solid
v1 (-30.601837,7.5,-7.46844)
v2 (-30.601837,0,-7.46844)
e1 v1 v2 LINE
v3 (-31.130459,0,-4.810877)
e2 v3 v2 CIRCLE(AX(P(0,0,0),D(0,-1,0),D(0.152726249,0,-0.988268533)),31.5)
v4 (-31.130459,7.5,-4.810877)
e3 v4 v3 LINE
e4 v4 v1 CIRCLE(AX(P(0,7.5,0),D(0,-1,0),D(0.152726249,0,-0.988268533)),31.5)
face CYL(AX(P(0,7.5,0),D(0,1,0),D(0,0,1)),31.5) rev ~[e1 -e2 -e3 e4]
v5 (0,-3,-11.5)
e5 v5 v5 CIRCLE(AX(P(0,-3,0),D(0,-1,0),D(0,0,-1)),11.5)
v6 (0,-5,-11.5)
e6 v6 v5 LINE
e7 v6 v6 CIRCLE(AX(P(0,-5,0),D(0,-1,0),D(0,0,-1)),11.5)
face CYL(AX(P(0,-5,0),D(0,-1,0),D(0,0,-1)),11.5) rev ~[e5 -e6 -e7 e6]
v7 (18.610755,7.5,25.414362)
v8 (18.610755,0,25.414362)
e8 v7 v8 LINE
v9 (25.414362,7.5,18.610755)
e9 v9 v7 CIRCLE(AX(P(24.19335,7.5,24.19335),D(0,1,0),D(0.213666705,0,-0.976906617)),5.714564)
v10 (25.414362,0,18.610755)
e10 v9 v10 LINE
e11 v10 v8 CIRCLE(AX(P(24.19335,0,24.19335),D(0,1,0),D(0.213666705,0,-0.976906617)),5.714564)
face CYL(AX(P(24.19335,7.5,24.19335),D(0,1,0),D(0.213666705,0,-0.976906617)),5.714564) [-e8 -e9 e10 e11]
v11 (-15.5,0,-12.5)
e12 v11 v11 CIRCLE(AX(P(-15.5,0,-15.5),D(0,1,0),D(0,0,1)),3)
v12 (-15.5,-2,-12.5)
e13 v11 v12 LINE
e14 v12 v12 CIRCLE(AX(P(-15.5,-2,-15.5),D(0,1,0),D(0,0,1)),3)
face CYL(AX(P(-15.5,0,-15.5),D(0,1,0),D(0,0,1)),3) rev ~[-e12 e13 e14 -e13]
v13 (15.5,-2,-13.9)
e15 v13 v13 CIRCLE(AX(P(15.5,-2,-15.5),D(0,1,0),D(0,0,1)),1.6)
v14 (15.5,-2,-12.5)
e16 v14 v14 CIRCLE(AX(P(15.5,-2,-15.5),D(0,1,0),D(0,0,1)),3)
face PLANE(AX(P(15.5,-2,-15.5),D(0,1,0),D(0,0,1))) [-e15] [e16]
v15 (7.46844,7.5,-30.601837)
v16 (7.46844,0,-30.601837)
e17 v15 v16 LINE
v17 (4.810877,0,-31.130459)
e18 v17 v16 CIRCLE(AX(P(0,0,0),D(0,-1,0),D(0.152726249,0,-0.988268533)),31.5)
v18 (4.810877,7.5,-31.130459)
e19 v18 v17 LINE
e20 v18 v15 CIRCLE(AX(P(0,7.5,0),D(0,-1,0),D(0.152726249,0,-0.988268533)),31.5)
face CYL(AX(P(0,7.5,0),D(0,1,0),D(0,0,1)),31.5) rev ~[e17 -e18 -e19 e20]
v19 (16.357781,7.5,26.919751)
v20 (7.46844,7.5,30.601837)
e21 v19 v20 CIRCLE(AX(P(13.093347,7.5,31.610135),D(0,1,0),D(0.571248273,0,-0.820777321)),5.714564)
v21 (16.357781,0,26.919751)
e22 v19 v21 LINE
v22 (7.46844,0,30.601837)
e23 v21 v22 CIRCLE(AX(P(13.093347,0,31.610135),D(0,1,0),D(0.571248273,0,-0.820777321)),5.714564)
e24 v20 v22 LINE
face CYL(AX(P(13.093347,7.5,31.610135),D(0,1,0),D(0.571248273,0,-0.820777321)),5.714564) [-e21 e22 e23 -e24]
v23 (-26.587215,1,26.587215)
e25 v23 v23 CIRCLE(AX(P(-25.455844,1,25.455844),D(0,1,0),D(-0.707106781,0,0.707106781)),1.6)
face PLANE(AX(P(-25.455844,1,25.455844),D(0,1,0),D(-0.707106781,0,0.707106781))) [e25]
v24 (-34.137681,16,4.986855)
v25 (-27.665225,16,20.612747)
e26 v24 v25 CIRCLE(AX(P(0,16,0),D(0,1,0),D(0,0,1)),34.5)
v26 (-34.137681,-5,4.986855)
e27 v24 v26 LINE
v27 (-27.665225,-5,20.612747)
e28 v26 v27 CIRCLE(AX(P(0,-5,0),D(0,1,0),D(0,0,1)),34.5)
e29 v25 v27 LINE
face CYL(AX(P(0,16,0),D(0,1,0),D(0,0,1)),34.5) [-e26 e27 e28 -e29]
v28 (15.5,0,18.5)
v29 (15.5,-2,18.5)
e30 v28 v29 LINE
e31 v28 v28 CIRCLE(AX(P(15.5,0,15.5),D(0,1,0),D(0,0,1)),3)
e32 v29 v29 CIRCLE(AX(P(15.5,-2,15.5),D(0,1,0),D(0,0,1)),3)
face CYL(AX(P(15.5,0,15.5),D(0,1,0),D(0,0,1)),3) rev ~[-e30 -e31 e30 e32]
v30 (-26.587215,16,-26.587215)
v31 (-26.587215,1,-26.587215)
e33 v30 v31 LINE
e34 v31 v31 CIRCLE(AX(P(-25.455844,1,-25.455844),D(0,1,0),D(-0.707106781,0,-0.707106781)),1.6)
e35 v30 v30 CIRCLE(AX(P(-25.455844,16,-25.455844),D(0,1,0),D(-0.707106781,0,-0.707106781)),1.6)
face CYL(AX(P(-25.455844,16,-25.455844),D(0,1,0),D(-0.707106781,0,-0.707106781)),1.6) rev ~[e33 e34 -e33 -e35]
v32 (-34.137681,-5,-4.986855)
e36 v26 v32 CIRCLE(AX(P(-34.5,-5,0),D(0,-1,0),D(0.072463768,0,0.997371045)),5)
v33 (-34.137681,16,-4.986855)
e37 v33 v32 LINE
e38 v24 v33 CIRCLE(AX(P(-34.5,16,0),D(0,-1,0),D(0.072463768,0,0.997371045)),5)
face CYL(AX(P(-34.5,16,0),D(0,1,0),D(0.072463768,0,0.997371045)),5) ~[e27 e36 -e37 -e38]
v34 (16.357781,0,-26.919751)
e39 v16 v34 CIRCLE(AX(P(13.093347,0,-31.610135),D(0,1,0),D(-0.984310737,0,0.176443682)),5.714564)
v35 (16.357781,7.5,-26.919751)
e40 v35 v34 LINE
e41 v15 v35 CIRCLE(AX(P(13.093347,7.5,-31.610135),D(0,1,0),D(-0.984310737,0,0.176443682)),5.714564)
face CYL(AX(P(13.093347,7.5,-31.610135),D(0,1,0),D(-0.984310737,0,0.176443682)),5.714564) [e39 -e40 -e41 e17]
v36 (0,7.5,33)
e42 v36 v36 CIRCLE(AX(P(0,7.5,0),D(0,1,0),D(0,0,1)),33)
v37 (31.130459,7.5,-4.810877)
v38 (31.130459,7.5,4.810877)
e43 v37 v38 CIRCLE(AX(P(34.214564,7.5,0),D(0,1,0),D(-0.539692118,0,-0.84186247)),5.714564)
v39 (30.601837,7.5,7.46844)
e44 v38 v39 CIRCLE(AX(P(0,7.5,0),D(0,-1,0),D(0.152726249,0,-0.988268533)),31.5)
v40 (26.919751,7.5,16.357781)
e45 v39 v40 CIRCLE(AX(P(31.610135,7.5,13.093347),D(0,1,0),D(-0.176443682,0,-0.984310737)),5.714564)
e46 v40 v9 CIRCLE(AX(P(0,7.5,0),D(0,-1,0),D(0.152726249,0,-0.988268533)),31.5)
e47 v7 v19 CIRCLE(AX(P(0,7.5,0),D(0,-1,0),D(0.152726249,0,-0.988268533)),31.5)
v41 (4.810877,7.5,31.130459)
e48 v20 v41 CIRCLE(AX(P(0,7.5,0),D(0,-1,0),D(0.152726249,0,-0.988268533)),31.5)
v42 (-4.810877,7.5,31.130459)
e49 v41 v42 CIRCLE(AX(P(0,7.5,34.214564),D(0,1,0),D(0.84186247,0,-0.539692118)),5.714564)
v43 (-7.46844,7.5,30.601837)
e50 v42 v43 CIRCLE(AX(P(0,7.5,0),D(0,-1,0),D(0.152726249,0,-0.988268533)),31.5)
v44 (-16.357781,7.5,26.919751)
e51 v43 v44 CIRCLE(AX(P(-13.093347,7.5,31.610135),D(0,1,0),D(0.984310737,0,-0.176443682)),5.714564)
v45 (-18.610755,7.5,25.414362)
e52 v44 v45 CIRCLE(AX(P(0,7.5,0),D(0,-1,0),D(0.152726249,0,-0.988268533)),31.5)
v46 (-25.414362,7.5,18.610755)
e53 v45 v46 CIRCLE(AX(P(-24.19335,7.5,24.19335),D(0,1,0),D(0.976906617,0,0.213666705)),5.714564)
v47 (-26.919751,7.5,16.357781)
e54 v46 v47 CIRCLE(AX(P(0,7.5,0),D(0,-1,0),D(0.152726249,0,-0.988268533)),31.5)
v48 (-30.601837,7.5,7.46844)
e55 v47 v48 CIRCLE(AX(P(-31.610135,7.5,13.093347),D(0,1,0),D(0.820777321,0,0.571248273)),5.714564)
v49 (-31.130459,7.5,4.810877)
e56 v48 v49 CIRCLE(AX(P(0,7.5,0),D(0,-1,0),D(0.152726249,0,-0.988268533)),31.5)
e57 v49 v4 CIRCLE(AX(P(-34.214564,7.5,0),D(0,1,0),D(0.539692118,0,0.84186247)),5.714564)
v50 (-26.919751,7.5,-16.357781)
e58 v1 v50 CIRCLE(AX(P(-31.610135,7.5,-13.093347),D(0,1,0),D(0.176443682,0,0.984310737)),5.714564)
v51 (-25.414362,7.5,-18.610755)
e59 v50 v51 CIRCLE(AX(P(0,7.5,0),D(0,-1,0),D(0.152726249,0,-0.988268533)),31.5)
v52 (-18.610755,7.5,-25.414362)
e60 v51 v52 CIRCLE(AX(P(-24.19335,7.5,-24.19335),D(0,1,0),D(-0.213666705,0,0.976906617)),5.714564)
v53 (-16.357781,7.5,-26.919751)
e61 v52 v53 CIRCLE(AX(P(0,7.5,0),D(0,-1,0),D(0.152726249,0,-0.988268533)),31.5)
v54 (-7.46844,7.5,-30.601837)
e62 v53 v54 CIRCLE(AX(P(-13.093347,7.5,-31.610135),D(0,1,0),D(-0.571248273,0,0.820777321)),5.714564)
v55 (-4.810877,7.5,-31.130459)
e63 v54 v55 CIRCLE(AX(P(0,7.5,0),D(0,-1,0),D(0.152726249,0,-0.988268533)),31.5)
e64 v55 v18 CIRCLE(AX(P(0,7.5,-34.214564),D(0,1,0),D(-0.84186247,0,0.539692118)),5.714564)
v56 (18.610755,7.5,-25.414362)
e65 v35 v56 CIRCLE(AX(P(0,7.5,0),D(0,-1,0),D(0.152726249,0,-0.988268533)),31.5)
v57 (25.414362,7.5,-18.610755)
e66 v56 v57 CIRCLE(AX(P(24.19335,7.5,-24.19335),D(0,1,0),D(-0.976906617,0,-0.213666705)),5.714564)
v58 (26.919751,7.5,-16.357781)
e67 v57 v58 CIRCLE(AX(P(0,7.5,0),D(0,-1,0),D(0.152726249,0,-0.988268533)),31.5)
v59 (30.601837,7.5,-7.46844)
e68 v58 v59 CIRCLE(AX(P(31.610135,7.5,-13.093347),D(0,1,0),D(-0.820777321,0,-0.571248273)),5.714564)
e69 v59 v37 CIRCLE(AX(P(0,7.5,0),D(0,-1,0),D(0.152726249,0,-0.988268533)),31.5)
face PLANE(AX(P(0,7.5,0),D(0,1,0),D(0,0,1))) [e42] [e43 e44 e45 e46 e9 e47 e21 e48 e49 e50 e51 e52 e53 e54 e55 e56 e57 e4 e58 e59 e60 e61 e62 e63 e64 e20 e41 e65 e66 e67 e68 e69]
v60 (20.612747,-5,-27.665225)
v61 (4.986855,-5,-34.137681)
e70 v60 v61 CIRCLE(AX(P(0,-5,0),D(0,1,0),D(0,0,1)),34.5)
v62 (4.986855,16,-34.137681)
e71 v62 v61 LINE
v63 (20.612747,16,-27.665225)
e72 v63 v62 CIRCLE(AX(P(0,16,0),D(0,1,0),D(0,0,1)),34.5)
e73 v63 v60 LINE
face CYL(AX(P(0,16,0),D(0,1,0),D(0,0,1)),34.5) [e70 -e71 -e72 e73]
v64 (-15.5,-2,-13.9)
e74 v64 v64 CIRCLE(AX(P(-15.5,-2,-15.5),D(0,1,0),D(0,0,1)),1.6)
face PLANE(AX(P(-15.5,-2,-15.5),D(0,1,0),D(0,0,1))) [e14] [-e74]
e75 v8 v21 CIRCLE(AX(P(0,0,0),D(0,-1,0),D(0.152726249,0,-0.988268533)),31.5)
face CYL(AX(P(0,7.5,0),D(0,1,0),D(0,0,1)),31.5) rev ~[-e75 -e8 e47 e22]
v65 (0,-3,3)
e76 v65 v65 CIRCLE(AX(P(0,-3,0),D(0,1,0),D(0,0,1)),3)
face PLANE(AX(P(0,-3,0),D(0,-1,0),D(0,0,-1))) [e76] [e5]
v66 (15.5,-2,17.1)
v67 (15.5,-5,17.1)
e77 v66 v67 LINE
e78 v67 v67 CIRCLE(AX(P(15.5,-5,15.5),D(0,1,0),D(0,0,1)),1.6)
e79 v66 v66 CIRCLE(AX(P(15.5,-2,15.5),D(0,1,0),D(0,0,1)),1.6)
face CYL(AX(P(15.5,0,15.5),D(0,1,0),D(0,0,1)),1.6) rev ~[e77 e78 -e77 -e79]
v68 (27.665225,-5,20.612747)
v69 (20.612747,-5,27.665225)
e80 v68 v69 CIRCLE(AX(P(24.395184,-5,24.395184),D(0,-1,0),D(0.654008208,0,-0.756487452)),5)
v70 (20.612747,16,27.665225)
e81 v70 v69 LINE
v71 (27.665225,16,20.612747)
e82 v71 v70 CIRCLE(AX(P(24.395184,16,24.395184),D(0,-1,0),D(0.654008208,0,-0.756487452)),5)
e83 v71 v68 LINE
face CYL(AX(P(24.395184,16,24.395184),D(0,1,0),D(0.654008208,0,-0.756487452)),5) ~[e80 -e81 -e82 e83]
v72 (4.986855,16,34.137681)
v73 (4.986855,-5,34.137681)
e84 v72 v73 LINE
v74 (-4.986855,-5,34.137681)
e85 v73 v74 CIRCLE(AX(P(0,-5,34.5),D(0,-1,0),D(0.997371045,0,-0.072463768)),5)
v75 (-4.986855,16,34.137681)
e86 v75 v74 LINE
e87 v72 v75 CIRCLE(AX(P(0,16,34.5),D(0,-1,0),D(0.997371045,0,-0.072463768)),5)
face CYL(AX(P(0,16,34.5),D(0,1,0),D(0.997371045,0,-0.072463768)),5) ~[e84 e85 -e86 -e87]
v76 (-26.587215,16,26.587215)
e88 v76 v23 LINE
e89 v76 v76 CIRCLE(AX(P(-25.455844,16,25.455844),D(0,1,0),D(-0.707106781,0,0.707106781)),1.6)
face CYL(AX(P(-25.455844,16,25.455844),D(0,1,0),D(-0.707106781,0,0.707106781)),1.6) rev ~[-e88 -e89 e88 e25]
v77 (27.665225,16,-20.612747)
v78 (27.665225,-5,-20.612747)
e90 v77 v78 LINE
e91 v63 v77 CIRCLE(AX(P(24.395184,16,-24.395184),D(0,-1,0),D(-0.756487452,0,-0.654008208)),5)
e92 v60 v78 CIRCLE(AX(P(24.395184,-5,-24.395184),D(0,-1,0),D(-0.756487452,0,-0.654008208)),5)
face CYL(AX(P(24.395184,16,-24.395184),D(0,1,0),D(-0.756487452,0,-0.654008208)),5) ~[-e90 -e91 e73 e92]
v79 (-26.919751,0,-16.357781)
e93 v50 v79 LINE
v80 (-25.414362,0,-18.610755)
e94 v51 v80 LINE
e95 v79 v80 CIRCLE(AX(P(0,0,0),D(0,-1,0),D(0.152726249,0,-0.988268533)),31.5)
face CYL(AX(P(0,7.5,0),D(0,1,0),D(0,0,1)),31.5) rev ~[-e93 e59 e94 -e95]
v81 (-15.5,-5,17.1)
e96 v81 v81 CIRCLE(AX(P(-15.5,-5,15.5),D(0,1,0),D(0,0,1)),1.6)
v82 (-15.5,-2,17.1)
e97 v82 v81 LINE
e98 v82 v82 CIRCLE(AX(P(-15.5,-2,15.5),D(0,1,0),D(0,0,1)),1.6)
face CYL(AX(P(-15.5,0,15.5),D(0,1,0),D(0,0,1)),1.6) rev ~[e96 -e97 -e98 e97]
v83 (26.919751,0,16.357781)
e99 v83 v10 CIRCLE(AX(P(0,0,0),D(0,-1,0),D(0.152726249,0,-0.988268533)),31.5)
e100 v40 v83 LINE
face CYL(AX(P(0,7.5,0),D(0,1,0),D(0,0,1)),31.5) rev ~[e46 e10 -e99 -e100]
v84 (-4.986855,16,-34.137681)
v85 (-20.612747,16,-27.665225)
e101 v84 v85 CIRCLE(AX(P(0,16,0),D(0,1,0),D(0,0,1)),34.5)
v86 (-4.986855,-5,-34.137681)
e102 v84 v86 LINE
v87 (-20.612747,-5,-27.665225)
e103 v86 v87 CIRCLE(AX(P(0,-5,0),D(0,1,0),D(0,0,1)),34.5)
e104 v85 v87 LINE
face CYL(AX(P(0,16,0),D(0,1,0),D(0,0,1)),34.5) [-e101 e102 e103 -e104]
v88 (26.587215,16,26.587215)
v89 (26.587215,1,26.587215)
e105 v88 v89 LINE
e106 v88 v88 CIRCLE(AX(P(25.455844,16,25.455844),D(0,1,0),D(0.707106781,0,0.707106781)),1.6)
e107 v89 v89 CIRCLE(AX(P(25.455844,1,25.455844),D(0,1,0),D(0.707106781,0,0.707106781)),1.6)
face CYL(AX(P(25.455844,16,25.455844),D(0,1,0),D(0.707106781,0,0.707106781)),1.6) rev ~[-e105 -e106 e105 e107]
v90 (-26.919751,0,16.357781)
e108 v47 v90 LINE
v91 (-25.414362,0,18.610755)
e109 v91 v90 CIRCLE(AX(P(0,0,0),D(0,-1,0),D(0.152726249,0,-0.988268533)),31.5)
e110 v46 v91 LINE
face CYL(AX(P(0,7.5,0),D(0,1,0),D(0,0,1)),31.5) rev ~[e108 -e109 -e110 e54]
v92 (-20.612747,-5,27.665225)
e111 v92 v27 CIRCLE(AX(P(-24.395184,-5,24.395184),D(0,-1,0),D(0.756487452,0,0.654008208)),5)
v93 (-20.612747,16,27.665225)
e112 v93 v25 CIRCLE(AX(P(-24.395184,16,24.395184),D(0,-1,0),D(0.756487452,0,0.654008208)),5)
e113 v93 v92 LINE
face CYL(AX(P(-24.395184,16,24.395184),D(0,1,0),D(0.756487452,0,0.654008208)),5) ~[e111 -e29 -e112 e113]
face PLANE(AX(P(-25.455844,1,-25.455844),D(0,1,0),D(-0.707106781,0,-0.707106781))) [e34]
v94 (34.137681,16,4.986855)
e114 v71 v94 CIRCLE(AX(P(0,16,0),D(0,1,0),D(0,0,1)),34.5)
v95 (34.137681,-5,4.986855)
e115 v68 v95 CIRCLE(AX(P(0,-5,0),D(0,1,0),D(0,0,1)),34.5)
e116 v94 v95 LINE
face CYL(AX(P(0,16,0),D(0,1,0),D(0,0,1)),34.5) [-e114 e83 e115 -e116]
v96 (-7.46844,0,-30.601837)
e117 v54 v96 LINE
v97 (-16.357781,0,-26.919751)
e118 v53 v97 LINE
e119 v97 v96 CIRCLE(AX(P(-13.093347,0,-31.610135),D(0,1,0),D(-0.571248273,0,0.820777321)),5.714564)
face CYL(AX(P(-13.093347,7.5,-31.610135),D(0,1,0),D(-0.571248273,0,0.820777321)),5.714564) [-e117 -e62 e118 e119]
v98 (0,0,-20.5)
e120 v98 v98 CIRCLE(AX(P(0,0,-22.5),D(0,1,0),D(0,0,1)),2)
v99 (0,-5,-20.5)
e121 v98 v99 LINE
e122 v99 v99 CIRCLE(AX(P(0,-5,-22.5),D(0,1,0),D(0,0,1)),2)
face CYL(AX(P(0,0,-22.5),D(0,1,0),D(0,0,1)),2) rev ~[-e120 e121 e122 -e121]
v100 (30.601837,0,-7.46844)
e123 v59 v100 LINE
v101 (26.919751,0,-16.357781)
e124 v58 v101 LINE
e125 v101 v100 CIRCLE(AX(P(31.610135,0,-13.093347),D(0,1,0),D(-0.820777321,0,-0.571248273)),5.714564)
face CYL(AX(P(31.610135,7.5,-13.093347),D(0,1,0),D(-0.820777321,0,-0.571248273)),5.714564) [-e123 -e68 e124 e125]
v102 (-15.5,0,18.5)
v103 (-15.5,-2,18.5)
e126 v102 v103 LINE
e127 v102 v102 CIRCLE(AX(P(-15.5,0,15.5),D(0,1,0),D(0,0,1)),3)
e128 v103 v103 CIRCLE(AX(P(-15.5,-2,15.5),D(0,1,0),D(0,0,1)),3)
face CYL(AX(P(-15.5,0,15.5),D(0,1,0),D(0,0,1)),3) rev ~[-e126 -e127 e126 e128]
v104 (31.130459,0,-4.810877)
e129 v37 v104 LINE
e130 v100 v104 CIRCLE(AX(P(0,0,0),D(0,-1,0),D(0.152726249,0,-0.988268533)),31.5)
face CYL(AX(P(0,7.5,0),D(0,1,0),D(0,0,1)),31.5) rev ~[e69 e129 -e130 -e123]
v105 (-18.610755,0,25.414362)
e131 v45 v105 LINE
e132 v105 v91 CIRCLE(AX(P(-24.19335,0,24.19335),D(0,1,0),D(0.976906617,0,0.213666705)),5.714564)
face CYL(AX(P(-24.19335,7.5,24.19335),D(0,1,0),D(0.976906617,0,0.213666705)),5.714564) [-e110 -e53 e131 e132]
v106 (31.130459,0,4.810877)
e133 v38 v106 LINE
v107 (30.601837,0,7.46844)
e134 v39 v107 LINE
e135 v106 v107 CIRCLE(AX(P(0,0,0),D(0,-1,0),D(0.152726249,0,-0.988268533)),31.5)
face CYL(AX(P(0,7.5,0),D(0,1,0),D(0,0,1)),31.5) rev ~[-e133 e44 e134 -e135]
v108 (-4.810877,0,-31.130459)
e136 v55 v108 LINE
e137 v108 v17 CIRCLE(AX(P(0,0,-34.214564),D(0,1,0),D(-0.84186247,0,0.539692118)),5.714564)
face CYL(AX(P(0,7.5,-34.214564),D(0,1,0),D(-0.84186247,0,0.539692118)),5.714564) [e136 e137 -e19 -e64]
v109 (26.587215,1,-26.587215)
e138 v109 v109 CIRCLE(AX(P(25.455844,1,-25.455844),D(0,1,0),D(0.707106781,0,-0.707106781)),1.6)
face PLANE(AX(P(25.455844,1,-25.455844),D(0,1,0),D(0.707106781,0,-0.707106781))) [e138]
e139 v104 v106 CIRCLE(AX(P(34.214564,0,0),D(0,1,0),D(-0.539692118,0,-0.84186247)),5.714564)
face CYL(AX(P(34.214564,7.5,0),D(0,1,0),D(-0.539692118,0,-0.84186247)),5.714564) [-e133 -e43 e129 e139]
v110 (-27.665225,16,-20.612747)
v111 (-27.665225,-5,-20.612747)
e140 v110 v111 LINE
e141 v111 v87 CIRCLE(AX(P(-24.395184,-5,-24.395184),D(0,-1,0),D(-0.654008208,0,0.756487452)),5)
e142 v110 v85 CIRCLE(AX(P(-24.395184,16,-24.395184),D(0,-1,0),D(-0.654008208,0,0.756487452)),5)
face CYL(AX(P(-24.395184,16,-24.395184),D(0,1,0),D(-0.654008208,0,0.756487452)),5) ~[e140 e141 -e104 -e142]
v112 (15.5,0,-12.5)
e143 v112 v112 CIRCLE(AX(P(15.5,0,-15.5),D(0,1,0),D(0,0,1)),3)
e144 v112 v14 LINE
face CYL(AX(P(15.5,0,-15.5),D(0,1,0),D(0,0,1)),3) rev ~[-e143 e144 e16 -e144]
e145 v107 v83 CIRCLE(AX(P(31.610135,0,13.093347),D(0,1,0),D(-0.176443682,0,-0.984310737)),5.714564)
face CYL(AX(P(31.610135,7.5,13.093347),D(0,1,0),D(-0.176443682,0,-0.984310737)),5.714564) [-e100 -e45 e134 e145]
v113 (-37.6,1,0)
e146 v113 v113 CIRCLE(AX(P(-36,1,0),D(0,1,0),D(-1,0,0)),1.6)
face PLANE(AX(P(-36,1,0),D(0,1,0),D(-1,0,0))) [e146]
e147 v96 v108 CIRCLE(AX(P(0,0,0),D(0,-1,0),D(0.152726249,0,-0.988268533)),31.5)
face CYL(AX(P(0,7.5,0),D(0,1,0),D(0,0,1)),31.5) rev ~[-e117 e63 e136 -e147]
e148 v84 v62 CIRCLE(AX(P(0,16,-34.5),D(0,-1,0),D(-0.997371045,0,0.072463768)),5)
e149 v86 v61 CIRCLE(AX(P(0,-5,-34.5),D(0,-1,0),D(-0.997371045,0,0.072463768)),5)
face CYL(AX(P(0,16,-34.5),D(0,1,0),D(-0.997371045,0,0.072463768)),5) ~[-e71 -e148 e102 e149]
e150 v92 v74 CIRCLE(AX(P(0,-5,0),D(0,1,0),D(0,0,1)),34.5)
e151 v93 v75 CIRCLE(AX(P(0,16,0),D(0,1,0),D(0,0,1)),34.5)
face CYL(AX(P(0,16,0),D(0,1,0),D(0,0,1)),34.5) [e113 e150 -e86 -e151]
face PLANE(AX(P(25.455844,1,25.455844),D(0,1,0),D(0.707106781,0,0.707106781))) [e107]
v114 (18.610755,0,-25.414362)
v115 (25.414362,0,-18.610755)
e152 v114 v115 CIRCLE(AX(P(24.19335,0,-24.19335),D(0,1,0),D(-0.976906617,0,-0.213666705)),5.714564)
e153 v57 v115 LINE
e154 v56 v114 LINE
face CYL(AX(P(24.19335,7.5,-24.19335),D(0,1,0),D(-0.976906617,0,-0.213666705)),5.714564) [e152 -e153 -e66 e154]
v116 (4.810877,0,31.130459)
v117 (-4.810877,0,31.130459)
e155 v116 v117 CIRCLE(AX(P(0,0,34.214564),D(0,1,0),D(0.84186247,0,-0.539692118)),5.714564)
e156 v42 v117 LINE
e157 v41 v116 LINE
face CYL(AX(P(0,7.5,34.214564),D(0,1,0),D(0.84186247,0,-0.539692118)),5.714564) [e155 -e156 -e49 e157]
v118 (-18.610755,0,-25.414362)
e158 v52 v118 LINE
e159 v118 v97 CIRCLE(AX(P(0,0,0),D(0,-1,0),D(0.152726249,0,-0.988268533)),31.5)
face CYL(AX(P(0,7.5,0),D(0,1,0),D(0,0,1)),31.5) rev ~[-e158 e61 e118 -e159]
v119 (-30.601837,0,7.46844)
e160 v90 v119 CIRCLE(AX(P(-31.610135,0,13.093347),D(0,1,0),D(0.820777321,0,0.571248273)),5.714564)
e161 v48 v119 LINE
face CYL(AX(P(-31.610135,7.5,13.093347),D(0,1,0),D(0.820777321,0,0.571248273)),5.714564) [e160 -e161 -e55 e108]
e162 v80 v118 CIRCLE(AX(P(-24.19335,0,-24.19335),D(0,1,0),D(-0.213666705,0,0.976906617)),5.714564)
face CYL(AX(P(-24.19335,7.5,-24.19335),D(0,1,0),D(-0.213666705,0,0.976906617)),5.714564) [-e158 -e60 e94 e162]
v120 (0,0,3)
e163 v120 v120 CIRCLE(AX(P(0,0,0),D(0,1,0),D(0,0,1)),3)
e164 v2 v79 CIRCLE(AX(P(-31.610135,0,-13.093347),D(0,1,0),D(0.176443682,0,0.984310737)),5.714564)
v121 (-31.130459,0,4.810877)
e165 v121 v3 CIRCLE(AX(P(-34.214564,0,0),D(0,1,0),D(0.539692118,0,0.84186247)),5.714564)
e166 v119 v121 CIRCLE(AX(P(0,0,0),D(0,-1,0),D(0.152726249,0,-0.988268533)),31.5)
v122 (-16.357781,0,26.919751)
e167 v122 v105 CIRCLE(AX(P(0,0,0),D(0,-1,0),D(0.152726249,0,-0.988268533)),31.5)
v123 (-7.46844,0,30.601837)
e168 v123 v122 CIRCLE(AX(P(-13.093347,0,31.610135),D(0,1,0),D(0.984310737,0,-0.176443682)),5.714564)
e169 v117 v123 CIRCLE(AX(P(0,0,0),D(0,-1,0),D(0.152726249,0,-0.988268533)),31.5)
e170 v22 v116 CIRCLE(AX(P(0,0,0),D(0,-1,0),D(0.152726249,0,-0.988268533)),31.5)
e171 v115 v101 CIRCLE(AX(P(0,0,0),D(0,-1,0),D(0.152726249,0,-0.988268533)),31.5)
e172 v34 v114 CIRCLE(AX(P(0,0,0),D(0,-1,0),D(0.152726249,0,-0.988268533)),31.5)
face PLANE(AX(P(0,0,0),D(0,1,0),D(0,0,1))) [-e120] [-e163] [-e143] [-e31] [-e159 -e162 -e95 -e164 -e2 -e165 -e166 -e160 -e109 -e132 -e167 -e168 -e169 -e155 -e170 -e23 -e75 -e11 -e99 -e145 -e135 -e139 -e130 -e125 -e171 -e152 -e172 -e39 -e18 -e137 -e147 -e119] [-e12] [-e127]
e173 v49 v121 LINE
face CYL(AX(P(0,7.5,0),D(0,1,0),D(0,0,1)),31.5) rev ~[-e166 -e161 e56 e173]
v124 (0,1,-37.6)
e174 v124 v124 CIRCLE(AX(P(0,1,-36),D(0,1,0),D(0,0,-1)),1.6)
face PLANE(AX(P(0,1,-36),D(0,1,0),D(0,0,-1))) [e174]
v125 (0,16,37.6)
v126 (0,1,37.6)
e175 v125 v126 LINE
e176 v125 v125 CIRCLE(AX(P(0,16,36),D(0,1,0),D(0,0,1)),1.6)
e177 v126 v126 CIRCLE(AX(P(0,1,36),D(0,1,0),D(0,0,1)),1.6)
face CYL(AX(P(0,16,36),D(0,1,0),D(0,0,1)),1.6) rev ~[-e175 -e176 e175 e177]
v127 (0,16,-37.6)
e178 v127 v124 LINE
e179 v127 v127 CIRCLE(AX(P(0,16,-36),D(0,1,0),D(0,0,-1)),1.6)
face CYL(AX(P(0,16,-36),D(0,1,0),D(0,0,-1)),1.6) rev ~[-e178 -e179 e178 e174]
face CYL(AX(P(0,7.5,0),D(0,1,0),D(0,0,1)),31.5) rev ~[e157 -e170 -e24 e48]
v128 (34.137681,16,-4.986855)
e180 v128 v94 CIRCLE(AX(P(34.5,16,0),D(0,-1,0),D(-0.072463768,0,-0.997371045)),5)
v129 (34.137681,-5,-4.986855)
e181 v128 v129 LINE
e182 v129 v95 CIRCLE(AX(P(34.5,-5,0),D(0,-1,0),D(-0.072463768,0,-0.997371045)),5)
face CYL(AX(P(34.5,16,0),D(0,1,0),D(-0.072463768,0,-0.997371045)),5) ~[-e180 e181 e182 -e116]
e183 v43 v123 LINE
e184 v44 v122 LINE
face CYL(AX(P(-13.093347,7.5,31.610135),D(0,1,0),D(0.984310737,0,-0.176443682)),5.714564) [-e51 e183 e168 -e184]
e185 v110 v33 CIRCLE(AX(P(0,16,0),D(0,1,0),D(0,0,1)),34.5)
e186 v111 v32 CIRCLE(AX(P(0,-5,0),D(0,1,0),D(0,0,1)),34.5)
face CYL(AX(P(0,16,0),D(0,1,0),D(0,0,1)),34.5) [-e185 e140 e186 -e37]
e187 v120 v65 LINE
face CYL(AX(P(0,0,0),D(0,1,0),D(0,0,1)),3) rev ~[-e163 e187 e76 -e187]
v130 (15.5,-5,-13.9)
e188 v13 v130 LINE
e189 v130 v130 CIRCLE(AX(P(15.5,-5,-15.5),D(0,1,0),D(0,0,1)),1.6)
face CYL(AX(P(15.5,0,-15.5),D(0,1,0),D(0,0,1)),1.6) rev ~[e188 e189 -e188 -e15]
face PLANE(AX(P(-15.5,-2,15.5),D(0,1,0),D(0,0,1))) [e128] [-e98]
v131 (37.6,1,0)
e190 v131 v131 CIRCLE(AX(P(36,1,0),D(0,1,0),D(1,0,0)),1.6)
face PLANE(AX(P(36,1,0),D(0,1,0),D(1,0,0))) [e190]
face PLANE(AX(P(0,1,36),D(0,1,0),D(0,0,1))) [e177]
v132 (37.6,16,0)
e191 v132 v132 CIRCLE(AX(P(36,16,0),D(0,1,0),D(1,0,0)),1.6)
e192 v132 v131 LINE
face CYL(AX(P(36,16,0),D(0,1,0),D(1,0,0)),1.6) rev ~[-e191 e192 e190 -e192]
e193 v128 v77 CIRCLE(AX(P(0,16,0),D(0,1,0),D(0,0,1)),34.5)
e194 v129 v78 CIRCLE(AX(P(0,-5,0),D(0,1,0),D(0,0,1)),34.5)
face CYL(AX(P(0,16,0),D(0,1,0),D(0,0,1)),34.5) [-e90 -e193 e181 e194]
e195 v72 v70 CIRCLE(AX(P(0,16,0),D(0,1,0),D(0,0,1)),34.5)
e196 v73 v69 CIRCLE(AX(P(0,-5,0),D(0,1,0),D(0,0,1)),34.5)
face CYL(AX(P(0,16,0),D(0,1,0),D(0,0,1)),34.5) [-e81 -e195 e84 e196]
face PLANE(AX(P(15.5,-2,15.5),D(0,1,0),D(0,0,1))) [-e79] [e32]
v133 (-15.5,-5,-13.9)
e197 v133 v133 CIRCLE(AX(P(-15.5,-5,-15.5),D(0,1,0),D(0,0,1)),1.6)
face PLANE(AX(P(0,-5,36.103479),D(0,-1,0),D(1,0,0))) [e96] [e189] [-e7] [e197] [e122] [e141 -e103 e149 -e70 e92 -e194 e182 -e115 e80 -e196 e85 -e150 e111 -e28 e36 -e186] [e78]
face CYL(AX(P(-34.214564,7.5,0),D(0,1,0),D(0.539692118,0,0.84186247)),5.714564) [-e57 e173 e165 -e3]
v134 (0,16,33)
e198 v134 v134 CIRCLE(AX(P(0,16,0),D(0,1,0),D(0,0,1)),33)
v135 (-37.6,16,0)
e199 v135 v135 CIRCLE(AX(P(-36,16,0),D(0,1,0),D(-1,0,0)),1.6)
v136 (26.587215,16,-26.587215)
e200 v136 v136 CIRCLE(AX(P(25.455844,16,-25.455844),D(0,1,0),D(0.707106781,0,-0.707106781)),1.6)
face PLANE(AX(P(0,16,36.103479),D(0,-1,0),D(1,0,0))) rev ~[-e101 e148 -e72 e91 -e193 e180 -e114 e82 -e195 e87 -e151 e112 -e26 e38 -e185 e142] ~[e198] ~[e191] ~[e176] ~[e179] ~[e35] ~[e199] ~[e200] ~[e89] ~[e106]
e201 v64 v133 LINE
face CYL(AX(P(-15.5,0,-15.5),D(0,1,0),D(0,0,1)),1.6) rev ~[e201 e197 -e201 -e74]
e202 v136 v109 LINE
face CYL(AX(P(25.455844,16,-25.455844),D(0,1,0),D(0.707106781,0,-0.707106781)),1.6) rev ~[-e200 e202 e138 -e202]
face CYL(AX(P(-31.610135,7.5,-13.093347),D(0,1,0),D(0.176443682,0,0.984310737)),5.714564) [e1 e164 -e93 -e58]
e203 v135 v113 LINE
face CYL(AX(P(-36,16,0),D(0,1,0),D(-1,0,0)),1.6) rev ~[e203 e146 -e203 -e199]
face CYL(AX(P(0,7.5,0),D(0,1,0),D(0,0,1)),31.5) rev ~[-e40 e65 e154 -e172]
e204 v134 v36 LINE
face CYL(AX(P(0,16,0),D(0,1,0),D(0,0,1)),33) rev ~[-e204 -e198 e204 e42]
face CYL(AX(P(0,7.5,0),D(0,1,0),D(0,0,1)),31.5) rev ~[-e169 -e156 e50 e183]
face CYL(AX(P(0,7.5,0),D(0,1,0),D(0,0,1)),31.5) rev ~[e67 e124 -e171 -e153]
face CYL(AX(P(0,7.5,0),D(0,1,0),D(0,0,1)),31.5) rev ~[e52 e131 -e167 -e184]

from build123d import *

# Parameters (mm, degrees)
SKETCH1_R           = 34.5
BOSS_EXTRUDE1_DEPTH = 5
BOSS_EXTRUDE2_START = 7.5
SKETCH4_R           = 34.5
SKETCH4_R_2         = 31.5
BOSS_EXTRUDE2_DEPTH = 7.5
SKETCH5_R           = 3
CUT_EXTRUDE1_DEPTH  = 50.363448016
SKETCH6_R           = 3
CUT_EXTRUDE2_DEPTH  = 2
SKETCH8_R           = 1.6
CUT_EXTRUDE3_DEPTH  = 50.363448016
BOSS_EXTRUDE3_START = 7.5
BOSS_EXTRUDE3_DEPTH = 7.5
CIRPATTERN1_COUNT   = 16
SKETCH10_R          = 11.5
CUT_EXTRUDE4_DEPTH  = 2
BOSS_EXTRUDE4_START = 8.5
SKETCH11_R          = 34.5
SKETCH11_R_2        = 33
BOSS_EXTRUDE4_DEPTH = 8.5
BOSS_EXTRUDE5_START = -21
BOSS_EXTRUDE5_DEPTH = 21
SKETCH15_R          = 1.6
CUT_EXTRUDE5_DEPTH  = 15
CIRPATTERN2_COUNT   = 8
SKETCH16_R          = 2
CUT_EXTRUDE6_DEPTH  = 59.107658703


with BuildPart() as part:
    # Sketch1 → Boss-Extrude1 (new body)
    with BuildSketch(Plane(origin=(0, 0, 0), x_dir=(1, 0, 0), z_dir=(0, 1, 0))):
        with Locations(Location((0, 0, 0), (0, 0, 270))):
            Circle(SKETCH1_R)
    extrude(amount=-BOSS_EXTRUDE1_DEPTH)

    # Sketch4 → Boss-Extrude2 (add)
    with BuildSketch(Plane(origin=(0, 0, 0), x_dir=(1, 0, 0), z_dir=(0, 1, 0)).offset(BOSS_EXTRUDE2_START)):
        with Locations(Location((0, 0, 0), (0, 0, 270))):
            Circle(SKETCH4_R)
        with Locations(Location((0, 0, 0), (0, 0, 270))):
            Circle(SKETCH4_R_2, mode=Mode.SUBTRACT)
    extrude(amount=-BOSS_EXTRUDE2_DEPTH)

    # Sketch5 → Cut-Extrude1 (cut, through all)
    with BuildSketch(Plane(origin=(0, 0, 0), x_dir=(1, 0, 0), z_dir=(0, 1, 0))):
        with Locations(Location((0, 0, 0), (0, 0, 270))):
            Circle(SKETCH5_R)
    extrude(amount=-CUT_EXTRUDE1_DEPTH, mode=Mode.SUBTRACT)

    # Sketch6 → Cut-Extrude2 (cut)
    with BuildSketch(Plane(origin=(0, 0, 0), x_dir=(1, 0, 0), z_dir=(0, 1, 0))):
        with Locations(Location((-15.5, 15.5, 0), (0, 0, 270))):
            Circle(SKETCH6_R)
        with Locations(Location((15.5, 15.5, 0), (0, 0, 270))):
            Circle(SKETCH6_R)
        with Locations(Location((15.5, -15.5, 0), (0, 0, 270))):
            Circle(SKETCH6_R)
        with Locations(Location((-15.5, -15.5, 0), (0, 0, 270))):
            Circle(SKETCH6_R)
    extrude(amount=-CUT_EXTRUDE2_DEPTH, mode=Mode.SUBTRACT)

    # Sketch8 → Cut-Extrude3 (cut, through all)
    with BuildSketch(Plane(origin=(0, 0, 0), x_dir=(1, 0, 0), z_dir=(0, 1, 0))):
        with Locations(Location((-15.5, 15.5, 0), (0, 0, 270))):
            Circle(SKETCH8_R)
        with Locations(Location((15.5, 15.5, 0), (0, 0, 270))):
            Circle(SKETCH8_R)
        with Locations(Location((15.5, -15.5, 0), (0, 0, 270))):
            Circle(SKETCH8_R)
        with Locations(Location((-15.5, -15.5, 0), (0, 0, 270))):
            Circle(SKETCH8_R)
    extrude(amount=-CUT_EXTRUDE3_DEPTH, mode=Mode.SUBTRACT)

    # Sketch9 → Boss-Extrude3 (add)
    with BuildSketch(Plane(origin=(0, 0, 0), x_dir=(1, 0, 0), z_dir=(0, 1, 0)).offset(BOSS_EXTRUDE3_START)):
        with BuildLine():
            ThreePointArc((-4.810876836, 31.130458783), (0, 28.5), (4.810876836, 31.130458783))
            ThreePointArc((4.810876836, 31.130458783), (0, 31.5), (-4.810876836, 31.130458783))
        make_face()
    boss_extrude3 = extrude(amount=-BOSS_EXTRUDE3_DEPTH)

    # CirPattern1: Boss-Extrude3 ×16 about axis
    cirpattern1_axis = Axis((0, 0, 0), (0, 1, 0))
    for i in range(1, CIRPATTERN1_COUNT):
        add(boss_extrude3.rotate(cirpattern1_axis, i * 360 / CIRPATTERN1_COUNT))

    # Sketch10 → Cut-Extrude4 (cut)
    with BuildSketch(Plane(origin=(0, -5, 0), x_dir=(-1, 0, 0), z_dir=(0, -1, 0))):
        with Locations(Location((0, 0, 0), (0, 0, 90))):
            Circle(SKETCH10_R)
    extrude(amount=-CUT_EXTRUDE4_DEPTH, mode=Mode.SUBTRACT)

    # Sketch11 → Boss-Extrude4 (add)
    with BuildSketch(Plane(origin=(0, 7.5, 0), x_dir=(1, 0, 0), z_dir=(0, 1, 0)).offset(BOSS_EXTRUDE4_START)):
        with Locations(Location((0, 0, 0), (0, 0, 270))):
            Circle(SKETCH11_R)
        with Locations(Location((0, 0, 0), (0, 0, 270))):
            Circle(SKETCH11_R_2, mode=Mode.SUBTRACT)
    extrude(amount=-BOSS_EXTRUDE4_DEPTH)

    # Sketch12 → Boss-Extrude5 (add)
    with BuildSketch(Plane.XZ.offset(5).offset(BOSS_EXTRUDE5_START)):
        with BuildLine():
            ThreePointArc((-4.986855227, 34.137681159), (0, 34.5), (4.986855227, 34.137681159))
            ThreePointArc((4.986855227, 34.137681159), (0, 39.5), (-4.986855227, 34.137681159))
        make_face()
    boss_extrude5 = extrude(amount=BOSS_EXTRUDE5_DEPTH)

    # Sketch15 → Cut-Extrude5 (cut)
    with BuildSketch(Plane(origin=(0, 16, 0), x_dir=(1, 0, 0), z_dir=(0, 1, 0))):
        with Locations(Location((0, -36, 0), (0, 0, 270))):
            Circle(SKETCH15_R)
    cut_extrude5 = extrude(amount=-CUT_EXTRUDE5_DEPTH, mode=Mode.SUBTRACT)

    # CirPattern2: Boss-Extrude5, Cut-Extrude5 ×8 about axis
    cirpattern2_axis = Axis((0, 0, 0), (0, 1, 0))
    add([boss_extrude5.rotate(cirpattern2_axis, i * 360 / CIRPATTERN2_COUNT) for i in range(1, CIRPATTERN2_COUNT)])
    add([cut_extrude5.rotate(cirpattern2_axis, i * 360 / CIRPATTERN2_COUNT) for i in range(1, CIRPATTERN2_COUNT)], mode=Mode.SUBTRACT)

    # Sketch16 → Cut-Extrude6 (cut, through all)
    with BuildSketch(Plane(origin=(0, 0, 0), x_dir=(1, 0, 0), z_dir=(0, 1, 0))):
        with Locations(Location((0, 22.5, 0), (0, 0, 270))):
            Circle(SKETCH16_R)
    extrude(amount=-CUT_EXTRUDE6_DEPTH, mode=Mode.SUBTRACT)


solid = part.part
